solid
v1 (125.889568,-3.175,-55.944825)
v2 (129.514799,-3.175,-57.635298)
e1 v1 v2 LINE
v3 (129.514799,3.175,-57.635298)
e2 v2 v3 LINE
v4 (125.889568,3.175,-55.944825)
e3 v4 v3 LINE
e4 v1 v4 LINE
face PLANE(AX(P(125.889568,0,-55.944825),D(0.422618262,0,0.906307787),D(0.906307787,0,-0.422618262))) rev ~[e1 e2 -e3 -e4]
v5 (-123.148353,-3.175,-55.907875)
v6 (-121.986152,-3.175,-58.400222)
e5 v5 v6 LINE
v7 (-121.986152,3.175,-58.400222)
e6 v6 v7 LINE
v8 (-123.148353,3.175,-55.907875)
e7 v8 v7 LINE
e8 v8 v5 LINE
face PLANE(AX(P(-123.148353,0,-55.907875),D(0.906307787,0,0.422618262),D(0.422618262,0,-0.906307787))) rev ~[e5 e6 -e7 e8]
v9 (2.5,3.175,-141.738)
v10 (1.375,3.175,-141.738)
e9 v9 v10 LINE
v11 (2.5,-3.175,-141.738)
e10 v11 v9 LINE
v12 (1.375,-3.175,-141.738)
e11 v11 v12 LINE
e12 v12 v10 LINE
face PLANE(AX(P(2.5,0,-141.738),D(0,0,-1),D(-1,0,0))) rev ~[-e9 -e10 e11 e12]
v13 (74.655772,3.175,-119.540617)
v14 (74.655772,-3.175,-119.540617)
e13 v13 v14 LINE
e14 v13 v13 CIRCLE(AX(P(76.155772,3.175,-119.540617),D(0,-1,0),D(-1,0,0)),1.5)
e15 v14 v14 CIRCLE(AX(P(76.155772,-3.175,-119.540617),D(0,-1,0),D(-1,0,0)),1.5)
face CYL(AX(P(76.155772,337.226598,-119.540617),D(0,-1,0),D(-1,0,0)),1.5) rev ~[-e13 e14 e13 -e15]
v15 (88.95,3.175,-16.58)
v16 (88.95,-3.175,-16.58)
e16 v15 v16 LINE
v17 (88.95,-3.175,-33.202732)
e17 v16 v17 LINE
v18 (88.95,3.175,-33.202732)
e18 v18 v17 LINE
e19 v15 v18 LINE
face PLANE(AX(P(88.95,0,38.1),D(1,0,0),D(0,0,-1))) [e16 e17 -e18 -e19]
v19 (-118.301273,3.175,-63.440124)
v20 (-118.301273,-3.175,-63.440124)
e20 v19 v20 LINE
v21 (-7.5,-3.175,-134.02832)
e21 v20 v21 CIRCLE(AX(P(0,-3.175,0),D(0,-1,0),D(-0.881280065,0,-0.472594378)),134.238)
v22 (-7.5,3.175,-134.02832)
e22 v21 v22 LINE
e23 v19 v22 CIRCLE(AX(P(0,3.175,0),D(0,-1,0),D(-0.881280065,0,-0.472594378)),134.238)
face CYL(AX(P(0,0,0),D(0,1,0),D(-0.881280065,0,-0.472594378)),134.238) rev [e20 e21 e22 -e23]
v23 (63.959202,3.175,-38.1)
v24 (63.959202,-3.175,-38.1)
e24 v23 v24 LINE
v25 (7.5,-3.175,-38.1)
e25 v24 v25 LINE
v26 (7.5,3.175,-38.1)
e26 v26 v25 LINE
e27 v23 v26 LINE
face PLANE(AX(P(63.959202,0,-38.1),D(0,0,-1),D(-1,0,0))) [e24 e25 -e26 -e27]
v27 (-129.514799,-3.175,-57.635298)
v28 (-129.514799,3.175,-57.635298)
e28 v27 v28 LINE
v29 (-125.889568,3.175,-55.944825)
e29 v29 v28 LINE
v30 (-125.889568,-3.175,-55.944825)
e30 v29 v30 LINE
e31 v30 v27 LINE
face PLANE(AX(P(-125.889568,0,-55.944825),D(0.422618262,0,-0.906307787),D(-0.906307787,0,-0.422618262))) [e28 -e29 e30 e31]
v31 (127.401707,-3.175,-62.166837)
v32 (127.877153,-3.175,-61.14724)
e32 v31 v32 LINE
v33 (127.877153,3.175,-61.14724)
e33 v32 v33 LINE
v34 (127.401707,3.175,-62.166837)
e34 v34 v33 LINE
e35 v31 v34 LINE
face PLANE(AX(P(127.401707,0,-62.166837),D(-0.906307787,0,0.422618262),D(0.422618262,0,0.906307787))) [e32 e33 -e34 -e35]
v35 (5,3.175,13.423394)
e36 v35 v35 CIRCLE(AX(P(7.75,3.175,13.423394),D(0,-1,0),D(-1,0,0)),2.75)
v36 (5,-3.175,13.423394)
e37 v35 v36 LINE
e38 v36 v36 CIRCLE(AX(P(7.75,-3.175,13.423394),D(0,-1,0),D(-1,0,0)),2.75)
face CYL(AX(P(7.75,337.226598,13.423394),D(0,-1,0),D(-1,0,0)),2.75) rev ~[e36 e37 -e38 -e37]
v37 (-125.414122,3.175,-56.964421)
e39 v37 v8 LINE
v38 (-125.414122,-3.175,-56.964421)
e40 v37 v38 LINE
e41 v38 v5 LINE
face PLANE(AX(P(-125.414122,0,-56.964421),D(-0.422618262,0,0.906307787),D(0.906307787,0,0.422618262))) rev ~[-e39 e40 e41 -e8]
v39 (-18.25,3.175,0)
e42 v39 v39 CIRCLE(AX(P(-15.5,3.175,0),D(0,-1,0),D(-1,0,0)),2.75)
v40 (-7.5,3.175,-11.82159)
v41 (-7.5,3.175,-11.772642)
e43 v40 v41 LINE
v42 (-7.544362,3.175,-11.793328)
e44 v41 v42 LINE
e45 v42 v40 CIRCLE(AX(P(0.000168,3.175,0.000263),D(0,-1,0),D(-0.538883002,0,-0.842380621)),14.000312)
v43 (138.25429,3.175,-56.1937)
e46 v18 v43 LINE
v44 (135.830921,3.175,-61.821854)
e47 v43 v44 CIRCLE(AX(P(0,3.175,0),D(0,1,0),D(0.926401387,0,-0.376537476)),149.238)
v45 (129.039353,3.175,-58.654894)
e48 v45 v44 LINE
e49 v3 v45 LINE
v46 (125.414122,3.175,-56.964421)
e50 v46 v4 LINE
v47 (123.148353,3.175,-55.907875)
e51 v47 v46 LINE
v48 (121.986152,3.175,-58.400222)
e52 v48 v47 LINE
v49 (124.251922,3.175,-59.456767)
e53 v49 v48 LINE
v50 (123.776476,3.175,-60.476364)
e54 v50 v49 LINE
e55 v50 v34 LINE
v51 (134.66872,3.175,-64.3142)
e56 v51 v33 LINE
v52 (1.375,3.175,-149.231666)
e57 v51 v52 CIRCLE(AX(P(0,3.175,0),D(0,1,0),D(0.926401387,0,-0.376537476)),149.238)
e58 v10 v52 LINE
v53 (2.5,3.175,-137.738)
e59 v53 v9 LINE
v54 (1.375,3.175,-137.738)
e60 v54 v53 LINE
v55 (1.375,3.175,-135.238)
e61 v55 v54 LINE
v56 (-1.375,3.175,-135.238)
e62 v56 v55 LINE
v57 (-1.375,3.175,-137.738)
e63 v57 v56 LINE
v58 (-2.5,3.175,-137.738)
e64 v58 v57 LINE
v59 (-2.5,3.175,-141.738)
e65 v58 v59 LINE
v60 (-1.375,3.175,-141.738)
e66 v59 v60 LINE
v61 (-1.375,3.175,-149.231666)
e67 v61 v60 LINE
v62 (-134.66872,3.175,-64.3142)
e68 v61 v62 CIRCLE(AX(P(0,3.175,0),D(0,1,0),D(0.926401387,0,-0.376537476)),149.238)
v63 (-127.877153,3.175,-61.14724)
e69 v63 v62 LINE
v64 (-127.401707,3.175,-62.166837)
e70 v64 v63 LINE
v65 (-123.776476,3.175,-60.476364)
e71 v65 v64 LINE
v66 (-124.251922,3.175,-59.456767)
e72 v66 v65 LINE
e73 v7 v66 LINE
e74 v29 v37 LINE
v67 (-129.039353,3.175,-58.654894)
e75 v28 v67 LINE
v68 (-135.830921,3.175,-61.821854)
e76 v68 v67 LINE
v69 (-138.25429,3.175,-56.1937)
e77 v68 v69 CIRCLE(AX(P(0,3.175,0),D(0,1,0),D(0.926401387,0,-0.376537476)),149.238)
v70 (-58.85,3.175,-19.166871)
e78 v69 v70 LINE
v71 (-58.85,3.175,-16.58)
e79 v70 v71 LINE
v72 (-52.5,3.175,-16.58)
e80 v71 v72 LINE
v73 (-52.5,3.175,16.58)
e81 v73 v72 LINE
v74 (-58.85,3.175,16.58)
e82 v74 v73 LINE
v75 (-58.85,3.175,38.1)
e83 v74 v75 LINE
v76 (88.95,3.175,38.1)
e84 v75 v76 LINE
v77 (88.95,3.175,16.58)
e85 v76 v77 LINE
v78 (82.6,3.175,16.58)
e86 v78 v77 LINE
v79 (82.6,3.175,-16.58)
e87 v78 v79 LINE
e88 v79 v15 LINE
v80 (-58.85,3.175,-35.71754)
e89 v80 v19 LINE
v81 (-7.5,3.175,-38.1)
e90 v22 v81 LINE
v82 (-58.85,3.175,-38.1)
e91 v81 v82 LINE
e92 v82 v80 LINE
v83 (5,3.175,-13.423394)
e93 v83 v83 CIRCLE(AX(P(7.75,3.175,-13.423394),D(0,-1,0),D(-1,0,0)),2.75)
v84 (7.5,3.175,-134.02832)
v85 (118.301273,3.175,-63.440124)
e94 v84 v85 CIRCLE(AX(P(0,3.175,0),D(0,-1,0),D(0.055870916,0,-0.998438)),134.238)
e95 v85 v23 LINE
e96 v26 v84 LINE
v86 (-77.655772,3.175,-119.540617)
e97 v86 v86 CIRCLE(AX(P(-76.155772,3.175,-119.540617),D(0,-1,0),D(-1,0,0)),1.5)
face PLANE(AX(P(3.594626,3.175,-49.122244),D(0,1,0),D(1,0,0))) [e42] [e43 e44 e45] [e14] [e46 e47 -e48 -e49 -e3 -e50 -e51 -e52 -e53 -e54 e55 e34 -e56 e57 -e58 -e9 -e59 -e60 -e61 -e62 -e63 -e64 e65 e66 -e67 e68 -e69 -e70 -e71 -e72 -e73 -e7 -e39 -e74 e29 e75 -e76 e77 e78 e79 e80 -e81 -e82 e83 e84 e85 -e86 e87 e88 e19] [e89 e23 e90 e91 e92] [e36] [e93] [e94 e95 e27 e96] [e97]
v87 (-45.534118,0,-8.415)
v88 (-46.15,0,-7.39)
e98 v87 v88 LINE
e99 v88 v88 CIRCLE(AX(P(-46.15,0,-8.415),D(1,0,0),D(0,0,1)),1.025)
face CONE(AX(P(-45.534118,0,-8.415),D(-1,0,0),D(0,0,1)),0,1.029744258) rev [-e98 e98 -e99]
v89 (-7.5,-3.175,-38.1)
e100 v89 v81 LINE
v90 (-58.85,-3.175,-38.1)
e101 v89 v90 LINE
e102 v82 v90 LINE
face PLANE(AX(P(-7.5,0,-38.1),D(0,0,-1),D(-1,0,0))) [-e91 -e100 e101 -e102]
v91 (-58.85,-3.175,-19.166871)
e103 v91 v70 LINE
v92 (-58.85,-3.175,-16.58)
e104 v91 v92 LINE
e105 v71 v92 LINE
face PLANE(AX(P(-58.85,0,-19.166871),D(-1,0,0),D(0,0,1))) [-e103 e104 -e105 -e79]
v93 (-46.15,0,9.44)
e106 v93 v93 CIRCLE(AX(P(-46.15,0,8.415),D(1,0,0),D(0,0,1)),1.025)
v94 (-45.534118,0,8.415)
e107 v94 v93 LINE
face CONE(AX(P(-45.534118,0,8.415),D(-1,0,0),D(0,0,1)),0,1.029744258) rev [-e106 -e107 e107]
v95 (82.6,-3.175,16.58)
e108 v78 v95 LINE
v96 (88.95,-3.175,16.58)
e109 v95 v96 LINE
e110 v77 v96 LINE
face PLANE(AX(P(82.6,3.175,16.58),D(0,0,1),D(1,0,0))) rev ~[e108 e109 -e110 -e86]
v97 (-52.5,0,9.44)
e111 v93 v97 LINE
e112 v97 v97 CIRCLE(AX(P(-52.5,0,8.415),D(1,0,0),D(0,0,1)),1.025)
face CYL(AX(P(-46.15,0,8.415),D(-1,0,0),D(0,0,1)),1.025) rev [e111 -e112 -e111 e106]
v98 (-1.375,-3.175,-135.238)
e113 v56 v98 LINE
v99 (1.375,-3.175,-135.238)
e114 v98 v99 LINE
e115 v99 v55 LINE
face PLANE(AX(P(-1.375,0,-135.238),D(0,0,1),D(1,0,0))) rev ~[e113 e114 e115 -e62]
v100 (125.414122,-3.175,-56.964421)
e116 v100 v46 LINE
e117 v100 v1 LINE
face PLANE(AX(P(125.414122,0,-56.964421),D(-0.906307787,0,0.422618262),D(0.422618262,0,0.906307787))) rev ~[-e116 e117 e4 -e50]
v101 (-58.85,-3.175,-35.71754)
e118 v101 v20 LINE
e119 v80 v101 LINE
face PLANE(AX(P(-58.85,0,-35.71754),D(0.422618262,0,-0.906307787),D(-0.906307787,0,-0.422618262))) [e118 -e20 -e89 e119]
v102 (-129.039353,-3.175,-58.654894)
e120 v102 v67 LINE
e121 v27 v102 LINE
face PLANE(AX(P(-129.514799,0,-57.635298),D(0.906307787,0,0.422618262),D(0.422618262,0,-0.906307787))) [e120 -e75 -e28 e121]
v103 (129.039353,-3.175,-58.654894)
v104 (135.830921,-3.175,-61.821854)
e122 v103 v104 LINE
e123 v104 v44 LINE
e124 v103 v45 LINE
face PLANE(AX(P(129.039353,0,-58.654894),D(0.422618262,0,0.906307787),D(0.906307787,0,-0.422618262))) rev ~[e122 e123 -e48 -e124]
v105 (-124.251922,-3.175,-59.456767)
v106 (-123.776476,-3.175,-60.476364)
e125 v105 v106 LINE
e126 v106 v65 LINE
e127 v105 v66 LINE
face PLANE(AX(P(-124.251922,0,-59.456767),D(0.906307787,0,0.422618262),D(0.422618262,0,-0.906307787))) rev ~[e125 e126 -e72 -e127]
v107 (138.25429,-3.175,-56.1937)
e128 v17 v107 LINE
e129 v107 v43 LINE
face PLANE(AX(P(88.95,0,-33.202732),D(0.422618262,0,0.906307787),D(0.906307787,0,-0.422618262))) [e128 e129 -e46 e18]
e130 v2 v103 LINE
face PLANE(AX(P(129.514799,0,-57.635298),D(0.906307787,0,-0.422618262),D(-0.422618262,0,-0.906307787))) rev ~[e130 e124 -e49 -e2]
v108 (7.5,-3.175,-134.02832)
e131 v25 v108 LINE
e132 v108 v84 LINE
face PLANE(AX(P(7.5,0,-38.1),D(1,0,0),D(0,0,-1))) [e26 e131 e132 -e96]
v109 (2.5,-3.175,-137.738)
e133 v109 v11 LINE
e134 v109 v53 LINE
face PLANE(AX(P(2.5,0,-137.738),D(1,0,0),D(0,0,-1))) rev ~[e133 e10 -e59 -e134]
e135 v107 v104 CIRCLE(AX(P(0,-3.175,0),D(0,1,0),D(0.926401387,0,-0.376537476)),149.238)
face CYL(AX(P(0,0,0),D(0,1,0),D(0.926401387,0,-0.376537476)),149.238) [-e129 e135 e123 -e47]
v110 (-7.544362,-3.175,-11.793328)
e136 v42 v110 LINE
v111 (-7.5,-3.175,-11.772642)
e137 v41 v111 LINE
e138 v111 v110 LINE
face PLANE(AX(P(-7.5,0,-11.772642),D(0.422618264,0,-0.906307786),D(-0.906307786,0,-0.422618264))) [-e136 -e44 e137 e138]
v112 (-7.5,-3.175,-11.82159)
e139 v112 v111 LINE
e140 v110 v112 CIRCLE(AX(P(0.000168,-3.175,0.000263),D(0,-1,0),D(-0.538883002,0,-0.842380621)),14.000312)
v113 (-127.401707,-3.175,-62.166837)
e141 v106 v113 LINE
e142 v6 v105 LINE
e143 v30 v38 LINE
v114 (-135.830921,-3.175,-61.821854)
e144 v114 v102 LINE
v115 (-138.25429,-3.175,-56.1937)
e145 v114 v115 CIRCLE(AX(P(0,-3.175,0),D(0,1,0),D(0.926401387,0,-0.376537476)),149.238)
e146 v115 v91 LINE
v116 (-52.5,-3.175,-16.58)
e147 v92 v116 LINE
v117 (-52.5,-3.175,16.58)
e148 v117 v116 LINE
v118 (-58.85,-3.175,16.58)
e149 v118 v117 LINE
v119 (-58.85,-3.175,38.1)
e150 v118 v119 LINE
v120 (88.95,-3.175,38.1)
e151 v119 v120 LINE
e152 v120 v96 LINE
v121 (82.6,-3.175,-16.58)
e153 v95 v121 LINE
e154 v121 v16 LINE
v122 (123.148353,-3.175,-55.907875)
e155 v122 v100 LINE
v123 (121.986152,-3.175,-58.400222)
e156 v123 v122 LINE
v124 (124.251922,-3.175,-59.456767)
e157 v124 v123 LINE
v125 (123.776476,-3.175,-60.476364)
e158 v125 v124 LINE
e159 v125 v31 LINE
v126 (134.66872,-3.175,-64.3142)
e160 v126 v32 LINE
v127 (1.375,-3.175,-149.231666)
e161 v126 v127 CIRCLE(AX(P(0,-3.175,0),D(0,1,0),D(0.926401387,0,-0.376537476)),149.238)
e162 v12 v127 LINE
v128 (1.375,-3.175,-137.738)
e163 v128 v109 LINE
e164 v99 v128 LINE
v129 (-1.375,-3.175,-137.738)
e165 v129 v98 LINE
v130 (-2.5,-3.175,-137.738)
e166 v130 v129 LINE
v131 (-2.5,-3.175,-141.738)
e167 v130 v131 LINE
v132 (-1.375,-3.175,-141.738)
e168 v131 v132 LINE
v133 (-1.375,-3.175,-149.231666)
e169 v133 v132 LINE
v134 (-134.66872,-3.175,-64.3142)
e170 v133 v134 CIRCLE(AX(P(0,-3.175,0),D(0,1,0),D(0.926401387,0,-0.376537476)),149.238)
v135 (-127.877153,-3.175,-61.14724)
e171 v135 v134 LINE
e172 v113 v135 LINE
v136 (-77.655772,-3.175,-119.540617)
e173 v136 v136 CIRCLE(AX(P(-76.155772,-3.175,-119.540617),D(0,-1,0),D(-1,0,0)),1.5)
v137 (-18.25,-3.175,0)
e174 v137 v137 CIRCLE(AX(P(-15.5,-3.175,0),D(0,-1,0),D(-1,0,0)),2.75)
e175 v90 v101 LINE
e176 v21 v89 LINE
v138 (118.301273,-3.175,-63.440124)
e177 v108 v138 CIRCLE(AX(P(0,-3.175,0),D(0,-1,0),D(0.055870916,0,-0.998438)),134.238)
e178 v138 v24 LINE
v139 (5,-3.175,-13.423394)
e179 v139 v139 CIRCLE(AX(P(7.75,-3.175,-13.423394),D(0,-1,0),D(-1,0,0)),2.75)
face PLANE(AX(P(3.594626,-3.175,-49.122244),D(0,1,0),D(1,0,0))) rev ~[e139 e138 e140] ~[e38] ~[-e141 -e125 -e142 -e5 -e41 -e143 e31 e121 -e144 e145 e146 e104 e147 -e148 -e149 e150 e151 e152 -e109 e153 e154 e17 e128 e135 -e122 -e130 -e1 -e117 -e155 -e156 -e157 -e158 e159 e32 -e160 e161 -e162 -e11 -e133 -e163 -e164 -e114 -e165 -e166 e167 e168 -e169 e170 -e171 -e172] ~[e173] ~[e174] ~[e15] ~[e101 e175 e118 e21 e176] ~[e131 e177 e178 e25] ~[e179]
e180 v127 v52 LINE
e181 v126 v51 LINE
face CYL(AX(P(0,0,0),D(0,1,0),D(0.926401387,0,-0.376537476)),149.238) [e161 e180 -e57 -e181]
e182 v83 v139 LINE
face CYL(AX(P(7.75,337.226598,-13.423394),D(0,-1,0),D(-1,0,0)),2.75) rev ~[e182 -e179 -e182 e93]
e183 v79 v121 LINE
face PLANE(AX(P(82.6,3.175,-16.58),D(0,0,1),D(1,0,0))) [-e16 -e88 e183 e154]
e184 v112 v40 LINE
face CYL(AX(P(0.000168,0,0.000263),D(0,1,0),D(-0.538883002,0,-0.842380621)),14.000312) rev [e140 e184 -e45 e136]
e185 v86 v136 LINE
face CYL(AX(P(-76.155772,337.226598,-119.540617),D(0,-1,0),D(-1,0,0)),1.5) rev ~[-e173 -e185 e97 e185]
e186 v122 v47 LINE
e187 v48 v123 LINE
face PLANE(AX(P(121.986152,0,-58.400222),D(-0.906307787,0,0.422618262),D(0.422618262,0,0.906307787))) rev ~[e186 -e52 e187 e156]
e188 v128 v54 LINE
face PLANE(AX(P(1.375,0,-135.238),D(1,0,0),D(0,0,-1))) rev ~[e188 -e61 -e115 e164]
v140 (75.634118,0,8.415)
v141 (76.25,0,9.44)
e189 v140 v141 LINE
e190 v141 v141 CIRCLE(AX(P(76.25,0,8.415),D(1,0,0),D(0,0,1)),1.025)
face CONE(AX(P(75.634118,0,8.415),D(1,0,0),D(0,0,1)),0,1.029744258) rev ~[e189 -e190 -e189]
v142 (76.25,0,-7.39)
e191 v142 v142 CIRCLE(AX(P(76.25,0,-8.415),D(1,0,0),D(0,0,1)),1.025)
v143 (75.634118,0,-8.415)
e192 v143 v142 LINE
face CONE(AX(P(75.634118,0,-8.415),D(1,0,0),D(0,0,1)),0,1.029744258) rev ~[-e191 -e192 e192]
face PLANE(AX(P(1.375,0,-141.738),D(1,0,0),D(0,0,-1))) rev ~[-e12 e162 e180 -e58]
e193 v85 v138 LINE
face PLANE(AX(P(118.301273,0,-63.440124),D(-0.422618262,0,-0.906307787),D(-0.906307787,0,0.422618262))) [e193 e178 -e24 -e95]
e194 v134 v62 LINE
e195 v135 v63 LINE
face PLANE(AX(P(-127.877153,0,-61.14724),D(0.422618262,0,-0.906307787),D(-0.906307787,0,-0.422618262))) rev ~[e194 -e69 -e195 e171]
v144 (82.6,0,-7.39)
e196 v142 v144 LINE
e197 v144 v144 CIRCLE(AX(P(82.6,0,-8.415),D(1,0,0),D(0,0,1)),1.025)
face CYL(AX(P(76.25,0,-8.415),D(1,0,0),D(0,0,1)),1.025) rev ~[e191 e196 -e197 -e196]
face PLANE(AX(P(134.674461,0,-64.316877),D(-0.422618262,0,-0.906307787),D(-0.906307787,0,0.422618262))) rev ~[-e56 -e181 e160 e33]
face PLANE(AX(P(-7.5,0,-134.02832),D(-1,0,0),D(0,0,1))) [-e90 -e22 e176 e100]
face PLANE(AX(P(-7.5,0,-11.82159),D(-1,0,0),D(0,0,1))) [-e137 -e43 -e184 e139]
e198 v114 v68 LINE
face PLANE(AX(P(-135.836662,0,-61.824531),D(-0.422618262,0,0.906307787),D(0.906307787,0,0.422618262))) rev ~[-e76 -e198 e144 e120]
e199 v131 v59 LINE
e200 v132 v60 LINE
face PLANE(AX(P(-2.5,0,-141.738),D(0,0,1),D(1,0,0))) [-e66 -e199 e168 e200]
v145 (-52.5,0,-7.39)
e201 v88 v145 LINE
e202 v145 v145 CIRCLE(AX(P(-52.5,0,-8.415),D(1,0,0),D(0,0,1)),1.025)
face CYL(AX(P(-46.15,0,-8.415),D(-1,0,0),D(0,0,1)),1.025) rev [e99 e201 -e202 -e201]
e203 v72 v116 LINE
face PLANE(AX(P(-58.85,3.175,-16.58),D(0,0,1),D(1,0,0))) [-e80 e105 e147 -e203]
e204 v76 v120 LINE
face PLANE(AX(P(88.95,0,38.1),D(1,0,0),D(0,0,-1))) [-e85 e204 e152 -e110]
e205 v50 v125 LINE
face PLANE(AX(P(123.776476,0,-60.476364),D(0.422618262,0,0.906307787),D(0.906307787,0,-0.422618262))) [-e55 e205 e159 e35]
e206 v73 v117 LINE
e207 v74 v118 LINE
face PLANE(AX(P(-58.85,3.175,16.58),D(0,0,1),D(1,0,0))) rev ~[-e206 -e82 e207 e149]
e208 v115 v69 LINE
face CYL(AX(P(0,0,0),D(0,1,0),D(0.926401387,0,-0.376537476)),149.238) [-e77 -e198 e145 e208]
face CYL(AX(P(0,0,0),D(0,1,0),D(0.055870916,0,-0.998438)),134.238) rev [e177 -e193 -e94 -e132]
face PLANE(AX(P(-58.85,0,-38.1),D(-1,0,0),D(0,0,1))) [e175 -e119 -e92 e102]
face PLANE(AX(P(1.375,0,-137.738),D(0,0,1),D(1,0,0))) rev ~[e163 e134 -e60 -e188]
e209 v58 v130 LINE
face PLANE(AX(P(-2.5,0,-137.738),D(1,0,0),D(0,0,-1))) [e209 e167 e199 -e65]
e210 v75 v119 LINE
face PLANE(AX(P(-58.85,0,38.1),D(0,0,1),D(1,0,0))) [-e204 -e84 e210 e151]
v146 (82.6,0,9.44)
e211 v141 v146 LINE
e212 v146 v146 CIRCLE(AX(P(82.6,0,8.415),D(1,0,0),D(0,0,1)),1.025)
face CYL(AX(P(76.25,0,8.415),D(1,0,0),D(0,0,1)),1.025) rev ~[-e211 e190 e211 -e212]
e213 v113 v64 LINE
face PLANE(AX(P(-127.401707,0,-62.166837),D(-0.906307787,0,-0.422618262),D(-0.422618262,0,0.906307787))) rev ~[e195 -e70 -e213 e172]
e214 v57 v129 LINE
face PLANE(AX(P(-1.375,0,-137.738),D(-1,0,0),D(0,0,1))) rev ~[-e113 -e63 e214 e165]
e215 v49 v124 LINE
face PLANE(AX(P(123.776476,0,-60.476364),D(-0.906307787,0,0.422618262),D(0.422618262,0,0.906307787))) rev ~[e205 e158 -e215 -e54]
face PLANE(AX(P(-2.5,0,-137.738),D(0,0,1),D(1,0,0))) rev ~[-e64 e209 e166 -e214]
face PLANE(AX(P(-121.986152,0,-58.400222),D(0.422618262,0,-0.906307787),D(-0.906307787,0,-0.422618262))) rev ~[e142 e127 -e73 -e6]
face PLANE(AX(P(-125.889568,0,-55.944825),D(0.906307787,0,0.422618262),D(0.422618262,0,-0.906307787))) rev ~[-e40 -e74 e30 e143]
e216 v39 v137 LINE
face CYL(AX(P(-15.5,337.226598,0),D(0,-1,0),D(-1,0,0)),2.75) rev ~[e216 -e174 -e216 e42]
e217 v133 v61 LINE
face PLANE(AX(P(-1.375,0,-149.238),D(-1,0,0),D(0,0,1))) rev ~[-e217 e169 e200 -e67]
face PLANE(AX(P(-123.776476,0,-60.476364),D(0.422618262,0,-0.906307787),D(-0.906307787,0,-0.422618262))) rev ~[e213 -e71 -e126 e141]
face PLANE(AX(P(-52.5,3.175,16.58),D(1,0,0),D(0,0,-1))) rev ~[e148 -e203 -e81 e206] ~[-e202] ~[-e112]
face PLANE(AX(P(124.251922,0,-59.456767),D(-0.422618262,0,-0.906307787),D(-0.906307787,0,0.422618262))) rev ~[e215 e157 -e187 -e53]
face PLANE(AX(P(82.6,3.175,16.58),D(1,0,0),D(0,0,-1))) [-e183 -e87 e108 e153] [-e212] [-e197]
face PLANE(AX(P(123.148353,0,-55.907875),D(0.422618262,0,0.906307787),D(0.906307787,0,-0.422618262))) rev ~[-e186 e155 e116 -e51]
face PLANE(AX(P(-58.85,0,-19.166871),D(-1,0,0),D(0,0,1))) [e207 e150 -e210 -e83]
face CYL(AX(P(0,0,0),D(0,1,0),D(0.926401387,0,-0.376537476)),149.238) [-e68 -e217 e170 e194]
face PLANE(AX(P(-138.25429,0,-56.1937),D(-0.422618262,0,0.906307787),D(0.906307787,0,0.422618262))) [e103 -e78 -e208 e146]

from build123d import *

# Parameters (mm, degrees)
BOSS_EXTRUDE1_DEPTH               = 3.175
SKETCH2_W                         = 2.75
SKETCH2_H                         = 2.5
SKETCH2_H_2                       = 4
SKETCH2_W_2                       = 1.125
SKETCH2_H_3                       = 7.5
CUT_EXTRUDE1_DEPTH                = 204.460831631
CIRPATTERN1_COUNT                 = 2
CIRPATTERN1_ANGLE                 = 65
CIRPATTERN1_THE_OTHER_WAY_COUNT   = 2
CIRPATTERN1_THE_OTHER_WAY_ANGLE   = 65
F_3_0_3_DIAMETER_HOLE1_D          = 3
M5_CLEARANCE_HOLE1_D              = 5.5
SKETCH9_W                         = 6.35
SKETCH9_H                         = 33.16
CUT_EXTRUDE2_DEPTH                = 204.530492207
M2_5X0_45_TAPPED_HOLE1_AT_2_COUNT = 2
M2_5X0_45_TAPPED_HOLE1_AT_2_PITCH = 16.83


with BuildPart() as part:
    # Sketch1 → Boss-Extrude1 (new, symmetric)
    with BuildSketch(Plane(origin=(0, 0, 0), x_dir=(1, 0, 0), z_dir=(0, 1, 0))):
        with BuildLine():
            Line((88.95, 33.202731801), (138.254290129, 56.193699868))
            ThreePointArc((138.254290129, 56.193699868), (0, 149.238), (-138.254290129, 56.193699868))
            Line((-138.254290129, 56.193699868), (-58.85, 19.16687129))
            Line((-58.85, 19.16687129), (-58.85, -38.1))
            Line((-58.85, -38.1), (88.95, -38.1))
            Line((88.95, -38.1), (88.95, 33.202731801))
        make_face()
        with BuildLine():
            Line((-7.5, 11.821590418), (-7.5, 11.772641828))
            Line((-7.5, 11.772641828), (-7.544362488, 11.793328396))
            ThreePointArc((-7.544362488, 11.793328396), (-7.522194517, 11.807480241), (-7.5, 11.821590418))
        make_face(mode=Mode.SUBTRACT)
        with BuildLine():
            ThreePointArc((7.5, 11.821590418), (7.522194517, 11.807480241), (7.544362488, 11.793328396))
            Line((7.544362488, 11.793328396), (7.5, 11.772641828))
            Line((7.5, 11.772641828), (7.5, 11.821590418))
        make_face(mode=Mode.SUBTRACT)
        with BuildLine():
            Line((-7.5, 134.028320306), (-7.5, 38.1))
            Line((-7.5, 38.1), (-58.85, 38.1))
            Line((-58.85, 38.1), (-58.85, 35.717540075))
            Line((-58.85, 35.717540075), (-118.301273414, 63.440124154))
            ThreePointArc((-118.301273414, 63.440124154), (-72.126024825, 113.215180903), (-7.5, 134.028320306))
        make_face(mode=Mode.SUBTRACT)
        with BuildLine():
            ThreePointArc((7.5, 134.028320306), (72.126024825, 113.215180903), (118.301273414, 63.440124154))
            Line((118.301273414, 63.440124154), (63.959201798, 38.1))
            Line((63.959201798, 38.1), (7.5, 38.1))
            Line((7.5, 38.1), (7.5, 134.028320306))
        make_face(mode=Mode.SUBTRACT)
    extrude(amount=BOSS_EXTRUDE1_DEPTH, both=True)

    # Sketch2 → Cut-Extrude1 (cut, symmetric)
    with BuildSketch(Plane(origin=(0, 0, 0), x_dir=(1, 0, 0), z_dir=(0, 1, 0))):
        with Locations((0, 136.488)):
            Rectangle(SKETCH2_W, SKETCH2_H)
        with Locations((0, 139.738)):
            Rectangle(SKETCH2_W, SKETCH2_H_2)
        with Locations((1.9375, 139.738)):
            Rectangle(SKETCH2_W_2, SKETCH2_H_2)
        with Locations((0, 145.488)):
            Rectangle(SKETCH2_W, SKETCH2_H_3)
        with Locations((-1.9375, 139.738)):
            Rectangle(SKETCH2_W_2, SKETCH2_H_2)
    cut_extrude1 = extrude(amount=CUT_EXTRUDE1_DEPTH, both=True, mode=Mode.SUBTRACT)

    # CirPattern1: Cut-Extrude1 ×2 about axis
    cirpattern1_axis = Axis((0, 0, 0), (0, 1, 0))
    for i in range(1, CIRPATTERN1_COUNT):
        add(cut_extrude1.rotate(cirpattern1_axis, i * CIRPATTERN1_ANGLE / (CIRPATTERN1_COUNT - 1)), mode=Mode.SUBTRACT)

    # CirPattern1 the other way: Cut-Extrude1 ×2 about axis
    cirpattern1_the_other_way_axis = Axis((0, 0, 0), (0, -1, 0))
    for i in range(1, CIRPATTERN1_THE_OTHER_WAY_COUNT):
        add(cut_extrude1.rotate(cirpattern1_the_other_way_axis, i * CIRPATTERN1_THE_OTHER_WAY_ANGLE / (CIRPATTERN1_THE_OTHER_WAY_COUNT - 1)), mode=Mode.SUBTRACT)

    # Ø3.0 (3) Diameter Hole1 (through all)
    with Locations(Plane(origin=(0, 3.175, 0), x_dir=(1, 0, 0), z_dir=(0, 1, 0))):
        with Locations((76.155771888, 119.540616747), (-76.155771888, 119.540616747)):
            Hole(F_3_0_3_DIAMETER_HOLE1_D / 2)

    # M5 Clearance Hole1 (through all)
    with Locations(Plane(origin=(0, 3.175, 0), x_dir=(1, 0, 0), z_dir=(0, 1, 0))):
        with Locations((-15.5, 0), (7.75, 13.423393759), (7.75, -13.423393759)):
            Hole(M5_CLEARANCE_HOLE1_D / 2)

    # Sketch9 → Cut-Extrude2 (cut, through all)
    with BuildSketch(Plane(origin=(0, 3.175, 0), x_dir=(1, 0, 0), z_dir=(0, 1, 0))):
        with Locations((-55.675, 0)):
            Rectangle(SKETCH9_W, SKETCH9_H)
        with Locations((85.775, 0)):
            Rectangle(SKETCH9_W, SKETCH9_H)
    extrude(amount=-CUT_EXTRUDE2_DEPTH, mode=Mode.SUBTRACT)

    # Sketch11 → M2.5x0.45 Tapped Hole1 (revolve, cut)
    with BuildSketch(Plane(origin=(-52.5, 0, -8.415), x_dir=(0, 0, 1), z_dir=(0, 1, 0))):
        Polygon((0, 0), (0, 6.965882135), (1.025, 6.35), (1.025, 0), align=None)
    m2_5x0_45_tapped_hole1 = revolve(axis=Axis((-58.85, 0, -8.415), (1, 0, 0)), mode=Mode.SUBTRACT)

    # M2.5x0.45 Tapped Hole1 at 2: M2.5x0.45 Tapped Hole1 ×2
    with Locations(*[(0, 0, i * M2_5X0_45_TAPPED_HOLE1_AT_2_PITCH) for i in range(1, M2_5X0_45_TAPPED_HOLE1_AT_2_COUNT)]):
        add(m2_5x0_45_tapped_hole1, mode=Mode.SUBTRACT)

    # Mirror1: M2.5x0.45 Tapped Hole1 across plane
    add(m2_5x0_45_tapped_hole1.mirror(Plane.ZY.offset(-15.05)), mode=Mode.SUBTRACT)

    # Mirror1 copy 1 sketch → Mirror1 copy 1 (revolve, cut)
    with BuildSketch(Plane(origin=(82.6, 0, 8.415), x_dir=(0, 0, 1), z_dir=(0, 1, 0))):
        Polygon((0, 0), (0, -6.965882135), (1.025, -6.35), (1.025, 0), align=None)
    revolve(axis=Axis((88.95, 0, 8.415), (1, 0, 0)), mode=Mode.SUBTRACT)


solid = part.part
